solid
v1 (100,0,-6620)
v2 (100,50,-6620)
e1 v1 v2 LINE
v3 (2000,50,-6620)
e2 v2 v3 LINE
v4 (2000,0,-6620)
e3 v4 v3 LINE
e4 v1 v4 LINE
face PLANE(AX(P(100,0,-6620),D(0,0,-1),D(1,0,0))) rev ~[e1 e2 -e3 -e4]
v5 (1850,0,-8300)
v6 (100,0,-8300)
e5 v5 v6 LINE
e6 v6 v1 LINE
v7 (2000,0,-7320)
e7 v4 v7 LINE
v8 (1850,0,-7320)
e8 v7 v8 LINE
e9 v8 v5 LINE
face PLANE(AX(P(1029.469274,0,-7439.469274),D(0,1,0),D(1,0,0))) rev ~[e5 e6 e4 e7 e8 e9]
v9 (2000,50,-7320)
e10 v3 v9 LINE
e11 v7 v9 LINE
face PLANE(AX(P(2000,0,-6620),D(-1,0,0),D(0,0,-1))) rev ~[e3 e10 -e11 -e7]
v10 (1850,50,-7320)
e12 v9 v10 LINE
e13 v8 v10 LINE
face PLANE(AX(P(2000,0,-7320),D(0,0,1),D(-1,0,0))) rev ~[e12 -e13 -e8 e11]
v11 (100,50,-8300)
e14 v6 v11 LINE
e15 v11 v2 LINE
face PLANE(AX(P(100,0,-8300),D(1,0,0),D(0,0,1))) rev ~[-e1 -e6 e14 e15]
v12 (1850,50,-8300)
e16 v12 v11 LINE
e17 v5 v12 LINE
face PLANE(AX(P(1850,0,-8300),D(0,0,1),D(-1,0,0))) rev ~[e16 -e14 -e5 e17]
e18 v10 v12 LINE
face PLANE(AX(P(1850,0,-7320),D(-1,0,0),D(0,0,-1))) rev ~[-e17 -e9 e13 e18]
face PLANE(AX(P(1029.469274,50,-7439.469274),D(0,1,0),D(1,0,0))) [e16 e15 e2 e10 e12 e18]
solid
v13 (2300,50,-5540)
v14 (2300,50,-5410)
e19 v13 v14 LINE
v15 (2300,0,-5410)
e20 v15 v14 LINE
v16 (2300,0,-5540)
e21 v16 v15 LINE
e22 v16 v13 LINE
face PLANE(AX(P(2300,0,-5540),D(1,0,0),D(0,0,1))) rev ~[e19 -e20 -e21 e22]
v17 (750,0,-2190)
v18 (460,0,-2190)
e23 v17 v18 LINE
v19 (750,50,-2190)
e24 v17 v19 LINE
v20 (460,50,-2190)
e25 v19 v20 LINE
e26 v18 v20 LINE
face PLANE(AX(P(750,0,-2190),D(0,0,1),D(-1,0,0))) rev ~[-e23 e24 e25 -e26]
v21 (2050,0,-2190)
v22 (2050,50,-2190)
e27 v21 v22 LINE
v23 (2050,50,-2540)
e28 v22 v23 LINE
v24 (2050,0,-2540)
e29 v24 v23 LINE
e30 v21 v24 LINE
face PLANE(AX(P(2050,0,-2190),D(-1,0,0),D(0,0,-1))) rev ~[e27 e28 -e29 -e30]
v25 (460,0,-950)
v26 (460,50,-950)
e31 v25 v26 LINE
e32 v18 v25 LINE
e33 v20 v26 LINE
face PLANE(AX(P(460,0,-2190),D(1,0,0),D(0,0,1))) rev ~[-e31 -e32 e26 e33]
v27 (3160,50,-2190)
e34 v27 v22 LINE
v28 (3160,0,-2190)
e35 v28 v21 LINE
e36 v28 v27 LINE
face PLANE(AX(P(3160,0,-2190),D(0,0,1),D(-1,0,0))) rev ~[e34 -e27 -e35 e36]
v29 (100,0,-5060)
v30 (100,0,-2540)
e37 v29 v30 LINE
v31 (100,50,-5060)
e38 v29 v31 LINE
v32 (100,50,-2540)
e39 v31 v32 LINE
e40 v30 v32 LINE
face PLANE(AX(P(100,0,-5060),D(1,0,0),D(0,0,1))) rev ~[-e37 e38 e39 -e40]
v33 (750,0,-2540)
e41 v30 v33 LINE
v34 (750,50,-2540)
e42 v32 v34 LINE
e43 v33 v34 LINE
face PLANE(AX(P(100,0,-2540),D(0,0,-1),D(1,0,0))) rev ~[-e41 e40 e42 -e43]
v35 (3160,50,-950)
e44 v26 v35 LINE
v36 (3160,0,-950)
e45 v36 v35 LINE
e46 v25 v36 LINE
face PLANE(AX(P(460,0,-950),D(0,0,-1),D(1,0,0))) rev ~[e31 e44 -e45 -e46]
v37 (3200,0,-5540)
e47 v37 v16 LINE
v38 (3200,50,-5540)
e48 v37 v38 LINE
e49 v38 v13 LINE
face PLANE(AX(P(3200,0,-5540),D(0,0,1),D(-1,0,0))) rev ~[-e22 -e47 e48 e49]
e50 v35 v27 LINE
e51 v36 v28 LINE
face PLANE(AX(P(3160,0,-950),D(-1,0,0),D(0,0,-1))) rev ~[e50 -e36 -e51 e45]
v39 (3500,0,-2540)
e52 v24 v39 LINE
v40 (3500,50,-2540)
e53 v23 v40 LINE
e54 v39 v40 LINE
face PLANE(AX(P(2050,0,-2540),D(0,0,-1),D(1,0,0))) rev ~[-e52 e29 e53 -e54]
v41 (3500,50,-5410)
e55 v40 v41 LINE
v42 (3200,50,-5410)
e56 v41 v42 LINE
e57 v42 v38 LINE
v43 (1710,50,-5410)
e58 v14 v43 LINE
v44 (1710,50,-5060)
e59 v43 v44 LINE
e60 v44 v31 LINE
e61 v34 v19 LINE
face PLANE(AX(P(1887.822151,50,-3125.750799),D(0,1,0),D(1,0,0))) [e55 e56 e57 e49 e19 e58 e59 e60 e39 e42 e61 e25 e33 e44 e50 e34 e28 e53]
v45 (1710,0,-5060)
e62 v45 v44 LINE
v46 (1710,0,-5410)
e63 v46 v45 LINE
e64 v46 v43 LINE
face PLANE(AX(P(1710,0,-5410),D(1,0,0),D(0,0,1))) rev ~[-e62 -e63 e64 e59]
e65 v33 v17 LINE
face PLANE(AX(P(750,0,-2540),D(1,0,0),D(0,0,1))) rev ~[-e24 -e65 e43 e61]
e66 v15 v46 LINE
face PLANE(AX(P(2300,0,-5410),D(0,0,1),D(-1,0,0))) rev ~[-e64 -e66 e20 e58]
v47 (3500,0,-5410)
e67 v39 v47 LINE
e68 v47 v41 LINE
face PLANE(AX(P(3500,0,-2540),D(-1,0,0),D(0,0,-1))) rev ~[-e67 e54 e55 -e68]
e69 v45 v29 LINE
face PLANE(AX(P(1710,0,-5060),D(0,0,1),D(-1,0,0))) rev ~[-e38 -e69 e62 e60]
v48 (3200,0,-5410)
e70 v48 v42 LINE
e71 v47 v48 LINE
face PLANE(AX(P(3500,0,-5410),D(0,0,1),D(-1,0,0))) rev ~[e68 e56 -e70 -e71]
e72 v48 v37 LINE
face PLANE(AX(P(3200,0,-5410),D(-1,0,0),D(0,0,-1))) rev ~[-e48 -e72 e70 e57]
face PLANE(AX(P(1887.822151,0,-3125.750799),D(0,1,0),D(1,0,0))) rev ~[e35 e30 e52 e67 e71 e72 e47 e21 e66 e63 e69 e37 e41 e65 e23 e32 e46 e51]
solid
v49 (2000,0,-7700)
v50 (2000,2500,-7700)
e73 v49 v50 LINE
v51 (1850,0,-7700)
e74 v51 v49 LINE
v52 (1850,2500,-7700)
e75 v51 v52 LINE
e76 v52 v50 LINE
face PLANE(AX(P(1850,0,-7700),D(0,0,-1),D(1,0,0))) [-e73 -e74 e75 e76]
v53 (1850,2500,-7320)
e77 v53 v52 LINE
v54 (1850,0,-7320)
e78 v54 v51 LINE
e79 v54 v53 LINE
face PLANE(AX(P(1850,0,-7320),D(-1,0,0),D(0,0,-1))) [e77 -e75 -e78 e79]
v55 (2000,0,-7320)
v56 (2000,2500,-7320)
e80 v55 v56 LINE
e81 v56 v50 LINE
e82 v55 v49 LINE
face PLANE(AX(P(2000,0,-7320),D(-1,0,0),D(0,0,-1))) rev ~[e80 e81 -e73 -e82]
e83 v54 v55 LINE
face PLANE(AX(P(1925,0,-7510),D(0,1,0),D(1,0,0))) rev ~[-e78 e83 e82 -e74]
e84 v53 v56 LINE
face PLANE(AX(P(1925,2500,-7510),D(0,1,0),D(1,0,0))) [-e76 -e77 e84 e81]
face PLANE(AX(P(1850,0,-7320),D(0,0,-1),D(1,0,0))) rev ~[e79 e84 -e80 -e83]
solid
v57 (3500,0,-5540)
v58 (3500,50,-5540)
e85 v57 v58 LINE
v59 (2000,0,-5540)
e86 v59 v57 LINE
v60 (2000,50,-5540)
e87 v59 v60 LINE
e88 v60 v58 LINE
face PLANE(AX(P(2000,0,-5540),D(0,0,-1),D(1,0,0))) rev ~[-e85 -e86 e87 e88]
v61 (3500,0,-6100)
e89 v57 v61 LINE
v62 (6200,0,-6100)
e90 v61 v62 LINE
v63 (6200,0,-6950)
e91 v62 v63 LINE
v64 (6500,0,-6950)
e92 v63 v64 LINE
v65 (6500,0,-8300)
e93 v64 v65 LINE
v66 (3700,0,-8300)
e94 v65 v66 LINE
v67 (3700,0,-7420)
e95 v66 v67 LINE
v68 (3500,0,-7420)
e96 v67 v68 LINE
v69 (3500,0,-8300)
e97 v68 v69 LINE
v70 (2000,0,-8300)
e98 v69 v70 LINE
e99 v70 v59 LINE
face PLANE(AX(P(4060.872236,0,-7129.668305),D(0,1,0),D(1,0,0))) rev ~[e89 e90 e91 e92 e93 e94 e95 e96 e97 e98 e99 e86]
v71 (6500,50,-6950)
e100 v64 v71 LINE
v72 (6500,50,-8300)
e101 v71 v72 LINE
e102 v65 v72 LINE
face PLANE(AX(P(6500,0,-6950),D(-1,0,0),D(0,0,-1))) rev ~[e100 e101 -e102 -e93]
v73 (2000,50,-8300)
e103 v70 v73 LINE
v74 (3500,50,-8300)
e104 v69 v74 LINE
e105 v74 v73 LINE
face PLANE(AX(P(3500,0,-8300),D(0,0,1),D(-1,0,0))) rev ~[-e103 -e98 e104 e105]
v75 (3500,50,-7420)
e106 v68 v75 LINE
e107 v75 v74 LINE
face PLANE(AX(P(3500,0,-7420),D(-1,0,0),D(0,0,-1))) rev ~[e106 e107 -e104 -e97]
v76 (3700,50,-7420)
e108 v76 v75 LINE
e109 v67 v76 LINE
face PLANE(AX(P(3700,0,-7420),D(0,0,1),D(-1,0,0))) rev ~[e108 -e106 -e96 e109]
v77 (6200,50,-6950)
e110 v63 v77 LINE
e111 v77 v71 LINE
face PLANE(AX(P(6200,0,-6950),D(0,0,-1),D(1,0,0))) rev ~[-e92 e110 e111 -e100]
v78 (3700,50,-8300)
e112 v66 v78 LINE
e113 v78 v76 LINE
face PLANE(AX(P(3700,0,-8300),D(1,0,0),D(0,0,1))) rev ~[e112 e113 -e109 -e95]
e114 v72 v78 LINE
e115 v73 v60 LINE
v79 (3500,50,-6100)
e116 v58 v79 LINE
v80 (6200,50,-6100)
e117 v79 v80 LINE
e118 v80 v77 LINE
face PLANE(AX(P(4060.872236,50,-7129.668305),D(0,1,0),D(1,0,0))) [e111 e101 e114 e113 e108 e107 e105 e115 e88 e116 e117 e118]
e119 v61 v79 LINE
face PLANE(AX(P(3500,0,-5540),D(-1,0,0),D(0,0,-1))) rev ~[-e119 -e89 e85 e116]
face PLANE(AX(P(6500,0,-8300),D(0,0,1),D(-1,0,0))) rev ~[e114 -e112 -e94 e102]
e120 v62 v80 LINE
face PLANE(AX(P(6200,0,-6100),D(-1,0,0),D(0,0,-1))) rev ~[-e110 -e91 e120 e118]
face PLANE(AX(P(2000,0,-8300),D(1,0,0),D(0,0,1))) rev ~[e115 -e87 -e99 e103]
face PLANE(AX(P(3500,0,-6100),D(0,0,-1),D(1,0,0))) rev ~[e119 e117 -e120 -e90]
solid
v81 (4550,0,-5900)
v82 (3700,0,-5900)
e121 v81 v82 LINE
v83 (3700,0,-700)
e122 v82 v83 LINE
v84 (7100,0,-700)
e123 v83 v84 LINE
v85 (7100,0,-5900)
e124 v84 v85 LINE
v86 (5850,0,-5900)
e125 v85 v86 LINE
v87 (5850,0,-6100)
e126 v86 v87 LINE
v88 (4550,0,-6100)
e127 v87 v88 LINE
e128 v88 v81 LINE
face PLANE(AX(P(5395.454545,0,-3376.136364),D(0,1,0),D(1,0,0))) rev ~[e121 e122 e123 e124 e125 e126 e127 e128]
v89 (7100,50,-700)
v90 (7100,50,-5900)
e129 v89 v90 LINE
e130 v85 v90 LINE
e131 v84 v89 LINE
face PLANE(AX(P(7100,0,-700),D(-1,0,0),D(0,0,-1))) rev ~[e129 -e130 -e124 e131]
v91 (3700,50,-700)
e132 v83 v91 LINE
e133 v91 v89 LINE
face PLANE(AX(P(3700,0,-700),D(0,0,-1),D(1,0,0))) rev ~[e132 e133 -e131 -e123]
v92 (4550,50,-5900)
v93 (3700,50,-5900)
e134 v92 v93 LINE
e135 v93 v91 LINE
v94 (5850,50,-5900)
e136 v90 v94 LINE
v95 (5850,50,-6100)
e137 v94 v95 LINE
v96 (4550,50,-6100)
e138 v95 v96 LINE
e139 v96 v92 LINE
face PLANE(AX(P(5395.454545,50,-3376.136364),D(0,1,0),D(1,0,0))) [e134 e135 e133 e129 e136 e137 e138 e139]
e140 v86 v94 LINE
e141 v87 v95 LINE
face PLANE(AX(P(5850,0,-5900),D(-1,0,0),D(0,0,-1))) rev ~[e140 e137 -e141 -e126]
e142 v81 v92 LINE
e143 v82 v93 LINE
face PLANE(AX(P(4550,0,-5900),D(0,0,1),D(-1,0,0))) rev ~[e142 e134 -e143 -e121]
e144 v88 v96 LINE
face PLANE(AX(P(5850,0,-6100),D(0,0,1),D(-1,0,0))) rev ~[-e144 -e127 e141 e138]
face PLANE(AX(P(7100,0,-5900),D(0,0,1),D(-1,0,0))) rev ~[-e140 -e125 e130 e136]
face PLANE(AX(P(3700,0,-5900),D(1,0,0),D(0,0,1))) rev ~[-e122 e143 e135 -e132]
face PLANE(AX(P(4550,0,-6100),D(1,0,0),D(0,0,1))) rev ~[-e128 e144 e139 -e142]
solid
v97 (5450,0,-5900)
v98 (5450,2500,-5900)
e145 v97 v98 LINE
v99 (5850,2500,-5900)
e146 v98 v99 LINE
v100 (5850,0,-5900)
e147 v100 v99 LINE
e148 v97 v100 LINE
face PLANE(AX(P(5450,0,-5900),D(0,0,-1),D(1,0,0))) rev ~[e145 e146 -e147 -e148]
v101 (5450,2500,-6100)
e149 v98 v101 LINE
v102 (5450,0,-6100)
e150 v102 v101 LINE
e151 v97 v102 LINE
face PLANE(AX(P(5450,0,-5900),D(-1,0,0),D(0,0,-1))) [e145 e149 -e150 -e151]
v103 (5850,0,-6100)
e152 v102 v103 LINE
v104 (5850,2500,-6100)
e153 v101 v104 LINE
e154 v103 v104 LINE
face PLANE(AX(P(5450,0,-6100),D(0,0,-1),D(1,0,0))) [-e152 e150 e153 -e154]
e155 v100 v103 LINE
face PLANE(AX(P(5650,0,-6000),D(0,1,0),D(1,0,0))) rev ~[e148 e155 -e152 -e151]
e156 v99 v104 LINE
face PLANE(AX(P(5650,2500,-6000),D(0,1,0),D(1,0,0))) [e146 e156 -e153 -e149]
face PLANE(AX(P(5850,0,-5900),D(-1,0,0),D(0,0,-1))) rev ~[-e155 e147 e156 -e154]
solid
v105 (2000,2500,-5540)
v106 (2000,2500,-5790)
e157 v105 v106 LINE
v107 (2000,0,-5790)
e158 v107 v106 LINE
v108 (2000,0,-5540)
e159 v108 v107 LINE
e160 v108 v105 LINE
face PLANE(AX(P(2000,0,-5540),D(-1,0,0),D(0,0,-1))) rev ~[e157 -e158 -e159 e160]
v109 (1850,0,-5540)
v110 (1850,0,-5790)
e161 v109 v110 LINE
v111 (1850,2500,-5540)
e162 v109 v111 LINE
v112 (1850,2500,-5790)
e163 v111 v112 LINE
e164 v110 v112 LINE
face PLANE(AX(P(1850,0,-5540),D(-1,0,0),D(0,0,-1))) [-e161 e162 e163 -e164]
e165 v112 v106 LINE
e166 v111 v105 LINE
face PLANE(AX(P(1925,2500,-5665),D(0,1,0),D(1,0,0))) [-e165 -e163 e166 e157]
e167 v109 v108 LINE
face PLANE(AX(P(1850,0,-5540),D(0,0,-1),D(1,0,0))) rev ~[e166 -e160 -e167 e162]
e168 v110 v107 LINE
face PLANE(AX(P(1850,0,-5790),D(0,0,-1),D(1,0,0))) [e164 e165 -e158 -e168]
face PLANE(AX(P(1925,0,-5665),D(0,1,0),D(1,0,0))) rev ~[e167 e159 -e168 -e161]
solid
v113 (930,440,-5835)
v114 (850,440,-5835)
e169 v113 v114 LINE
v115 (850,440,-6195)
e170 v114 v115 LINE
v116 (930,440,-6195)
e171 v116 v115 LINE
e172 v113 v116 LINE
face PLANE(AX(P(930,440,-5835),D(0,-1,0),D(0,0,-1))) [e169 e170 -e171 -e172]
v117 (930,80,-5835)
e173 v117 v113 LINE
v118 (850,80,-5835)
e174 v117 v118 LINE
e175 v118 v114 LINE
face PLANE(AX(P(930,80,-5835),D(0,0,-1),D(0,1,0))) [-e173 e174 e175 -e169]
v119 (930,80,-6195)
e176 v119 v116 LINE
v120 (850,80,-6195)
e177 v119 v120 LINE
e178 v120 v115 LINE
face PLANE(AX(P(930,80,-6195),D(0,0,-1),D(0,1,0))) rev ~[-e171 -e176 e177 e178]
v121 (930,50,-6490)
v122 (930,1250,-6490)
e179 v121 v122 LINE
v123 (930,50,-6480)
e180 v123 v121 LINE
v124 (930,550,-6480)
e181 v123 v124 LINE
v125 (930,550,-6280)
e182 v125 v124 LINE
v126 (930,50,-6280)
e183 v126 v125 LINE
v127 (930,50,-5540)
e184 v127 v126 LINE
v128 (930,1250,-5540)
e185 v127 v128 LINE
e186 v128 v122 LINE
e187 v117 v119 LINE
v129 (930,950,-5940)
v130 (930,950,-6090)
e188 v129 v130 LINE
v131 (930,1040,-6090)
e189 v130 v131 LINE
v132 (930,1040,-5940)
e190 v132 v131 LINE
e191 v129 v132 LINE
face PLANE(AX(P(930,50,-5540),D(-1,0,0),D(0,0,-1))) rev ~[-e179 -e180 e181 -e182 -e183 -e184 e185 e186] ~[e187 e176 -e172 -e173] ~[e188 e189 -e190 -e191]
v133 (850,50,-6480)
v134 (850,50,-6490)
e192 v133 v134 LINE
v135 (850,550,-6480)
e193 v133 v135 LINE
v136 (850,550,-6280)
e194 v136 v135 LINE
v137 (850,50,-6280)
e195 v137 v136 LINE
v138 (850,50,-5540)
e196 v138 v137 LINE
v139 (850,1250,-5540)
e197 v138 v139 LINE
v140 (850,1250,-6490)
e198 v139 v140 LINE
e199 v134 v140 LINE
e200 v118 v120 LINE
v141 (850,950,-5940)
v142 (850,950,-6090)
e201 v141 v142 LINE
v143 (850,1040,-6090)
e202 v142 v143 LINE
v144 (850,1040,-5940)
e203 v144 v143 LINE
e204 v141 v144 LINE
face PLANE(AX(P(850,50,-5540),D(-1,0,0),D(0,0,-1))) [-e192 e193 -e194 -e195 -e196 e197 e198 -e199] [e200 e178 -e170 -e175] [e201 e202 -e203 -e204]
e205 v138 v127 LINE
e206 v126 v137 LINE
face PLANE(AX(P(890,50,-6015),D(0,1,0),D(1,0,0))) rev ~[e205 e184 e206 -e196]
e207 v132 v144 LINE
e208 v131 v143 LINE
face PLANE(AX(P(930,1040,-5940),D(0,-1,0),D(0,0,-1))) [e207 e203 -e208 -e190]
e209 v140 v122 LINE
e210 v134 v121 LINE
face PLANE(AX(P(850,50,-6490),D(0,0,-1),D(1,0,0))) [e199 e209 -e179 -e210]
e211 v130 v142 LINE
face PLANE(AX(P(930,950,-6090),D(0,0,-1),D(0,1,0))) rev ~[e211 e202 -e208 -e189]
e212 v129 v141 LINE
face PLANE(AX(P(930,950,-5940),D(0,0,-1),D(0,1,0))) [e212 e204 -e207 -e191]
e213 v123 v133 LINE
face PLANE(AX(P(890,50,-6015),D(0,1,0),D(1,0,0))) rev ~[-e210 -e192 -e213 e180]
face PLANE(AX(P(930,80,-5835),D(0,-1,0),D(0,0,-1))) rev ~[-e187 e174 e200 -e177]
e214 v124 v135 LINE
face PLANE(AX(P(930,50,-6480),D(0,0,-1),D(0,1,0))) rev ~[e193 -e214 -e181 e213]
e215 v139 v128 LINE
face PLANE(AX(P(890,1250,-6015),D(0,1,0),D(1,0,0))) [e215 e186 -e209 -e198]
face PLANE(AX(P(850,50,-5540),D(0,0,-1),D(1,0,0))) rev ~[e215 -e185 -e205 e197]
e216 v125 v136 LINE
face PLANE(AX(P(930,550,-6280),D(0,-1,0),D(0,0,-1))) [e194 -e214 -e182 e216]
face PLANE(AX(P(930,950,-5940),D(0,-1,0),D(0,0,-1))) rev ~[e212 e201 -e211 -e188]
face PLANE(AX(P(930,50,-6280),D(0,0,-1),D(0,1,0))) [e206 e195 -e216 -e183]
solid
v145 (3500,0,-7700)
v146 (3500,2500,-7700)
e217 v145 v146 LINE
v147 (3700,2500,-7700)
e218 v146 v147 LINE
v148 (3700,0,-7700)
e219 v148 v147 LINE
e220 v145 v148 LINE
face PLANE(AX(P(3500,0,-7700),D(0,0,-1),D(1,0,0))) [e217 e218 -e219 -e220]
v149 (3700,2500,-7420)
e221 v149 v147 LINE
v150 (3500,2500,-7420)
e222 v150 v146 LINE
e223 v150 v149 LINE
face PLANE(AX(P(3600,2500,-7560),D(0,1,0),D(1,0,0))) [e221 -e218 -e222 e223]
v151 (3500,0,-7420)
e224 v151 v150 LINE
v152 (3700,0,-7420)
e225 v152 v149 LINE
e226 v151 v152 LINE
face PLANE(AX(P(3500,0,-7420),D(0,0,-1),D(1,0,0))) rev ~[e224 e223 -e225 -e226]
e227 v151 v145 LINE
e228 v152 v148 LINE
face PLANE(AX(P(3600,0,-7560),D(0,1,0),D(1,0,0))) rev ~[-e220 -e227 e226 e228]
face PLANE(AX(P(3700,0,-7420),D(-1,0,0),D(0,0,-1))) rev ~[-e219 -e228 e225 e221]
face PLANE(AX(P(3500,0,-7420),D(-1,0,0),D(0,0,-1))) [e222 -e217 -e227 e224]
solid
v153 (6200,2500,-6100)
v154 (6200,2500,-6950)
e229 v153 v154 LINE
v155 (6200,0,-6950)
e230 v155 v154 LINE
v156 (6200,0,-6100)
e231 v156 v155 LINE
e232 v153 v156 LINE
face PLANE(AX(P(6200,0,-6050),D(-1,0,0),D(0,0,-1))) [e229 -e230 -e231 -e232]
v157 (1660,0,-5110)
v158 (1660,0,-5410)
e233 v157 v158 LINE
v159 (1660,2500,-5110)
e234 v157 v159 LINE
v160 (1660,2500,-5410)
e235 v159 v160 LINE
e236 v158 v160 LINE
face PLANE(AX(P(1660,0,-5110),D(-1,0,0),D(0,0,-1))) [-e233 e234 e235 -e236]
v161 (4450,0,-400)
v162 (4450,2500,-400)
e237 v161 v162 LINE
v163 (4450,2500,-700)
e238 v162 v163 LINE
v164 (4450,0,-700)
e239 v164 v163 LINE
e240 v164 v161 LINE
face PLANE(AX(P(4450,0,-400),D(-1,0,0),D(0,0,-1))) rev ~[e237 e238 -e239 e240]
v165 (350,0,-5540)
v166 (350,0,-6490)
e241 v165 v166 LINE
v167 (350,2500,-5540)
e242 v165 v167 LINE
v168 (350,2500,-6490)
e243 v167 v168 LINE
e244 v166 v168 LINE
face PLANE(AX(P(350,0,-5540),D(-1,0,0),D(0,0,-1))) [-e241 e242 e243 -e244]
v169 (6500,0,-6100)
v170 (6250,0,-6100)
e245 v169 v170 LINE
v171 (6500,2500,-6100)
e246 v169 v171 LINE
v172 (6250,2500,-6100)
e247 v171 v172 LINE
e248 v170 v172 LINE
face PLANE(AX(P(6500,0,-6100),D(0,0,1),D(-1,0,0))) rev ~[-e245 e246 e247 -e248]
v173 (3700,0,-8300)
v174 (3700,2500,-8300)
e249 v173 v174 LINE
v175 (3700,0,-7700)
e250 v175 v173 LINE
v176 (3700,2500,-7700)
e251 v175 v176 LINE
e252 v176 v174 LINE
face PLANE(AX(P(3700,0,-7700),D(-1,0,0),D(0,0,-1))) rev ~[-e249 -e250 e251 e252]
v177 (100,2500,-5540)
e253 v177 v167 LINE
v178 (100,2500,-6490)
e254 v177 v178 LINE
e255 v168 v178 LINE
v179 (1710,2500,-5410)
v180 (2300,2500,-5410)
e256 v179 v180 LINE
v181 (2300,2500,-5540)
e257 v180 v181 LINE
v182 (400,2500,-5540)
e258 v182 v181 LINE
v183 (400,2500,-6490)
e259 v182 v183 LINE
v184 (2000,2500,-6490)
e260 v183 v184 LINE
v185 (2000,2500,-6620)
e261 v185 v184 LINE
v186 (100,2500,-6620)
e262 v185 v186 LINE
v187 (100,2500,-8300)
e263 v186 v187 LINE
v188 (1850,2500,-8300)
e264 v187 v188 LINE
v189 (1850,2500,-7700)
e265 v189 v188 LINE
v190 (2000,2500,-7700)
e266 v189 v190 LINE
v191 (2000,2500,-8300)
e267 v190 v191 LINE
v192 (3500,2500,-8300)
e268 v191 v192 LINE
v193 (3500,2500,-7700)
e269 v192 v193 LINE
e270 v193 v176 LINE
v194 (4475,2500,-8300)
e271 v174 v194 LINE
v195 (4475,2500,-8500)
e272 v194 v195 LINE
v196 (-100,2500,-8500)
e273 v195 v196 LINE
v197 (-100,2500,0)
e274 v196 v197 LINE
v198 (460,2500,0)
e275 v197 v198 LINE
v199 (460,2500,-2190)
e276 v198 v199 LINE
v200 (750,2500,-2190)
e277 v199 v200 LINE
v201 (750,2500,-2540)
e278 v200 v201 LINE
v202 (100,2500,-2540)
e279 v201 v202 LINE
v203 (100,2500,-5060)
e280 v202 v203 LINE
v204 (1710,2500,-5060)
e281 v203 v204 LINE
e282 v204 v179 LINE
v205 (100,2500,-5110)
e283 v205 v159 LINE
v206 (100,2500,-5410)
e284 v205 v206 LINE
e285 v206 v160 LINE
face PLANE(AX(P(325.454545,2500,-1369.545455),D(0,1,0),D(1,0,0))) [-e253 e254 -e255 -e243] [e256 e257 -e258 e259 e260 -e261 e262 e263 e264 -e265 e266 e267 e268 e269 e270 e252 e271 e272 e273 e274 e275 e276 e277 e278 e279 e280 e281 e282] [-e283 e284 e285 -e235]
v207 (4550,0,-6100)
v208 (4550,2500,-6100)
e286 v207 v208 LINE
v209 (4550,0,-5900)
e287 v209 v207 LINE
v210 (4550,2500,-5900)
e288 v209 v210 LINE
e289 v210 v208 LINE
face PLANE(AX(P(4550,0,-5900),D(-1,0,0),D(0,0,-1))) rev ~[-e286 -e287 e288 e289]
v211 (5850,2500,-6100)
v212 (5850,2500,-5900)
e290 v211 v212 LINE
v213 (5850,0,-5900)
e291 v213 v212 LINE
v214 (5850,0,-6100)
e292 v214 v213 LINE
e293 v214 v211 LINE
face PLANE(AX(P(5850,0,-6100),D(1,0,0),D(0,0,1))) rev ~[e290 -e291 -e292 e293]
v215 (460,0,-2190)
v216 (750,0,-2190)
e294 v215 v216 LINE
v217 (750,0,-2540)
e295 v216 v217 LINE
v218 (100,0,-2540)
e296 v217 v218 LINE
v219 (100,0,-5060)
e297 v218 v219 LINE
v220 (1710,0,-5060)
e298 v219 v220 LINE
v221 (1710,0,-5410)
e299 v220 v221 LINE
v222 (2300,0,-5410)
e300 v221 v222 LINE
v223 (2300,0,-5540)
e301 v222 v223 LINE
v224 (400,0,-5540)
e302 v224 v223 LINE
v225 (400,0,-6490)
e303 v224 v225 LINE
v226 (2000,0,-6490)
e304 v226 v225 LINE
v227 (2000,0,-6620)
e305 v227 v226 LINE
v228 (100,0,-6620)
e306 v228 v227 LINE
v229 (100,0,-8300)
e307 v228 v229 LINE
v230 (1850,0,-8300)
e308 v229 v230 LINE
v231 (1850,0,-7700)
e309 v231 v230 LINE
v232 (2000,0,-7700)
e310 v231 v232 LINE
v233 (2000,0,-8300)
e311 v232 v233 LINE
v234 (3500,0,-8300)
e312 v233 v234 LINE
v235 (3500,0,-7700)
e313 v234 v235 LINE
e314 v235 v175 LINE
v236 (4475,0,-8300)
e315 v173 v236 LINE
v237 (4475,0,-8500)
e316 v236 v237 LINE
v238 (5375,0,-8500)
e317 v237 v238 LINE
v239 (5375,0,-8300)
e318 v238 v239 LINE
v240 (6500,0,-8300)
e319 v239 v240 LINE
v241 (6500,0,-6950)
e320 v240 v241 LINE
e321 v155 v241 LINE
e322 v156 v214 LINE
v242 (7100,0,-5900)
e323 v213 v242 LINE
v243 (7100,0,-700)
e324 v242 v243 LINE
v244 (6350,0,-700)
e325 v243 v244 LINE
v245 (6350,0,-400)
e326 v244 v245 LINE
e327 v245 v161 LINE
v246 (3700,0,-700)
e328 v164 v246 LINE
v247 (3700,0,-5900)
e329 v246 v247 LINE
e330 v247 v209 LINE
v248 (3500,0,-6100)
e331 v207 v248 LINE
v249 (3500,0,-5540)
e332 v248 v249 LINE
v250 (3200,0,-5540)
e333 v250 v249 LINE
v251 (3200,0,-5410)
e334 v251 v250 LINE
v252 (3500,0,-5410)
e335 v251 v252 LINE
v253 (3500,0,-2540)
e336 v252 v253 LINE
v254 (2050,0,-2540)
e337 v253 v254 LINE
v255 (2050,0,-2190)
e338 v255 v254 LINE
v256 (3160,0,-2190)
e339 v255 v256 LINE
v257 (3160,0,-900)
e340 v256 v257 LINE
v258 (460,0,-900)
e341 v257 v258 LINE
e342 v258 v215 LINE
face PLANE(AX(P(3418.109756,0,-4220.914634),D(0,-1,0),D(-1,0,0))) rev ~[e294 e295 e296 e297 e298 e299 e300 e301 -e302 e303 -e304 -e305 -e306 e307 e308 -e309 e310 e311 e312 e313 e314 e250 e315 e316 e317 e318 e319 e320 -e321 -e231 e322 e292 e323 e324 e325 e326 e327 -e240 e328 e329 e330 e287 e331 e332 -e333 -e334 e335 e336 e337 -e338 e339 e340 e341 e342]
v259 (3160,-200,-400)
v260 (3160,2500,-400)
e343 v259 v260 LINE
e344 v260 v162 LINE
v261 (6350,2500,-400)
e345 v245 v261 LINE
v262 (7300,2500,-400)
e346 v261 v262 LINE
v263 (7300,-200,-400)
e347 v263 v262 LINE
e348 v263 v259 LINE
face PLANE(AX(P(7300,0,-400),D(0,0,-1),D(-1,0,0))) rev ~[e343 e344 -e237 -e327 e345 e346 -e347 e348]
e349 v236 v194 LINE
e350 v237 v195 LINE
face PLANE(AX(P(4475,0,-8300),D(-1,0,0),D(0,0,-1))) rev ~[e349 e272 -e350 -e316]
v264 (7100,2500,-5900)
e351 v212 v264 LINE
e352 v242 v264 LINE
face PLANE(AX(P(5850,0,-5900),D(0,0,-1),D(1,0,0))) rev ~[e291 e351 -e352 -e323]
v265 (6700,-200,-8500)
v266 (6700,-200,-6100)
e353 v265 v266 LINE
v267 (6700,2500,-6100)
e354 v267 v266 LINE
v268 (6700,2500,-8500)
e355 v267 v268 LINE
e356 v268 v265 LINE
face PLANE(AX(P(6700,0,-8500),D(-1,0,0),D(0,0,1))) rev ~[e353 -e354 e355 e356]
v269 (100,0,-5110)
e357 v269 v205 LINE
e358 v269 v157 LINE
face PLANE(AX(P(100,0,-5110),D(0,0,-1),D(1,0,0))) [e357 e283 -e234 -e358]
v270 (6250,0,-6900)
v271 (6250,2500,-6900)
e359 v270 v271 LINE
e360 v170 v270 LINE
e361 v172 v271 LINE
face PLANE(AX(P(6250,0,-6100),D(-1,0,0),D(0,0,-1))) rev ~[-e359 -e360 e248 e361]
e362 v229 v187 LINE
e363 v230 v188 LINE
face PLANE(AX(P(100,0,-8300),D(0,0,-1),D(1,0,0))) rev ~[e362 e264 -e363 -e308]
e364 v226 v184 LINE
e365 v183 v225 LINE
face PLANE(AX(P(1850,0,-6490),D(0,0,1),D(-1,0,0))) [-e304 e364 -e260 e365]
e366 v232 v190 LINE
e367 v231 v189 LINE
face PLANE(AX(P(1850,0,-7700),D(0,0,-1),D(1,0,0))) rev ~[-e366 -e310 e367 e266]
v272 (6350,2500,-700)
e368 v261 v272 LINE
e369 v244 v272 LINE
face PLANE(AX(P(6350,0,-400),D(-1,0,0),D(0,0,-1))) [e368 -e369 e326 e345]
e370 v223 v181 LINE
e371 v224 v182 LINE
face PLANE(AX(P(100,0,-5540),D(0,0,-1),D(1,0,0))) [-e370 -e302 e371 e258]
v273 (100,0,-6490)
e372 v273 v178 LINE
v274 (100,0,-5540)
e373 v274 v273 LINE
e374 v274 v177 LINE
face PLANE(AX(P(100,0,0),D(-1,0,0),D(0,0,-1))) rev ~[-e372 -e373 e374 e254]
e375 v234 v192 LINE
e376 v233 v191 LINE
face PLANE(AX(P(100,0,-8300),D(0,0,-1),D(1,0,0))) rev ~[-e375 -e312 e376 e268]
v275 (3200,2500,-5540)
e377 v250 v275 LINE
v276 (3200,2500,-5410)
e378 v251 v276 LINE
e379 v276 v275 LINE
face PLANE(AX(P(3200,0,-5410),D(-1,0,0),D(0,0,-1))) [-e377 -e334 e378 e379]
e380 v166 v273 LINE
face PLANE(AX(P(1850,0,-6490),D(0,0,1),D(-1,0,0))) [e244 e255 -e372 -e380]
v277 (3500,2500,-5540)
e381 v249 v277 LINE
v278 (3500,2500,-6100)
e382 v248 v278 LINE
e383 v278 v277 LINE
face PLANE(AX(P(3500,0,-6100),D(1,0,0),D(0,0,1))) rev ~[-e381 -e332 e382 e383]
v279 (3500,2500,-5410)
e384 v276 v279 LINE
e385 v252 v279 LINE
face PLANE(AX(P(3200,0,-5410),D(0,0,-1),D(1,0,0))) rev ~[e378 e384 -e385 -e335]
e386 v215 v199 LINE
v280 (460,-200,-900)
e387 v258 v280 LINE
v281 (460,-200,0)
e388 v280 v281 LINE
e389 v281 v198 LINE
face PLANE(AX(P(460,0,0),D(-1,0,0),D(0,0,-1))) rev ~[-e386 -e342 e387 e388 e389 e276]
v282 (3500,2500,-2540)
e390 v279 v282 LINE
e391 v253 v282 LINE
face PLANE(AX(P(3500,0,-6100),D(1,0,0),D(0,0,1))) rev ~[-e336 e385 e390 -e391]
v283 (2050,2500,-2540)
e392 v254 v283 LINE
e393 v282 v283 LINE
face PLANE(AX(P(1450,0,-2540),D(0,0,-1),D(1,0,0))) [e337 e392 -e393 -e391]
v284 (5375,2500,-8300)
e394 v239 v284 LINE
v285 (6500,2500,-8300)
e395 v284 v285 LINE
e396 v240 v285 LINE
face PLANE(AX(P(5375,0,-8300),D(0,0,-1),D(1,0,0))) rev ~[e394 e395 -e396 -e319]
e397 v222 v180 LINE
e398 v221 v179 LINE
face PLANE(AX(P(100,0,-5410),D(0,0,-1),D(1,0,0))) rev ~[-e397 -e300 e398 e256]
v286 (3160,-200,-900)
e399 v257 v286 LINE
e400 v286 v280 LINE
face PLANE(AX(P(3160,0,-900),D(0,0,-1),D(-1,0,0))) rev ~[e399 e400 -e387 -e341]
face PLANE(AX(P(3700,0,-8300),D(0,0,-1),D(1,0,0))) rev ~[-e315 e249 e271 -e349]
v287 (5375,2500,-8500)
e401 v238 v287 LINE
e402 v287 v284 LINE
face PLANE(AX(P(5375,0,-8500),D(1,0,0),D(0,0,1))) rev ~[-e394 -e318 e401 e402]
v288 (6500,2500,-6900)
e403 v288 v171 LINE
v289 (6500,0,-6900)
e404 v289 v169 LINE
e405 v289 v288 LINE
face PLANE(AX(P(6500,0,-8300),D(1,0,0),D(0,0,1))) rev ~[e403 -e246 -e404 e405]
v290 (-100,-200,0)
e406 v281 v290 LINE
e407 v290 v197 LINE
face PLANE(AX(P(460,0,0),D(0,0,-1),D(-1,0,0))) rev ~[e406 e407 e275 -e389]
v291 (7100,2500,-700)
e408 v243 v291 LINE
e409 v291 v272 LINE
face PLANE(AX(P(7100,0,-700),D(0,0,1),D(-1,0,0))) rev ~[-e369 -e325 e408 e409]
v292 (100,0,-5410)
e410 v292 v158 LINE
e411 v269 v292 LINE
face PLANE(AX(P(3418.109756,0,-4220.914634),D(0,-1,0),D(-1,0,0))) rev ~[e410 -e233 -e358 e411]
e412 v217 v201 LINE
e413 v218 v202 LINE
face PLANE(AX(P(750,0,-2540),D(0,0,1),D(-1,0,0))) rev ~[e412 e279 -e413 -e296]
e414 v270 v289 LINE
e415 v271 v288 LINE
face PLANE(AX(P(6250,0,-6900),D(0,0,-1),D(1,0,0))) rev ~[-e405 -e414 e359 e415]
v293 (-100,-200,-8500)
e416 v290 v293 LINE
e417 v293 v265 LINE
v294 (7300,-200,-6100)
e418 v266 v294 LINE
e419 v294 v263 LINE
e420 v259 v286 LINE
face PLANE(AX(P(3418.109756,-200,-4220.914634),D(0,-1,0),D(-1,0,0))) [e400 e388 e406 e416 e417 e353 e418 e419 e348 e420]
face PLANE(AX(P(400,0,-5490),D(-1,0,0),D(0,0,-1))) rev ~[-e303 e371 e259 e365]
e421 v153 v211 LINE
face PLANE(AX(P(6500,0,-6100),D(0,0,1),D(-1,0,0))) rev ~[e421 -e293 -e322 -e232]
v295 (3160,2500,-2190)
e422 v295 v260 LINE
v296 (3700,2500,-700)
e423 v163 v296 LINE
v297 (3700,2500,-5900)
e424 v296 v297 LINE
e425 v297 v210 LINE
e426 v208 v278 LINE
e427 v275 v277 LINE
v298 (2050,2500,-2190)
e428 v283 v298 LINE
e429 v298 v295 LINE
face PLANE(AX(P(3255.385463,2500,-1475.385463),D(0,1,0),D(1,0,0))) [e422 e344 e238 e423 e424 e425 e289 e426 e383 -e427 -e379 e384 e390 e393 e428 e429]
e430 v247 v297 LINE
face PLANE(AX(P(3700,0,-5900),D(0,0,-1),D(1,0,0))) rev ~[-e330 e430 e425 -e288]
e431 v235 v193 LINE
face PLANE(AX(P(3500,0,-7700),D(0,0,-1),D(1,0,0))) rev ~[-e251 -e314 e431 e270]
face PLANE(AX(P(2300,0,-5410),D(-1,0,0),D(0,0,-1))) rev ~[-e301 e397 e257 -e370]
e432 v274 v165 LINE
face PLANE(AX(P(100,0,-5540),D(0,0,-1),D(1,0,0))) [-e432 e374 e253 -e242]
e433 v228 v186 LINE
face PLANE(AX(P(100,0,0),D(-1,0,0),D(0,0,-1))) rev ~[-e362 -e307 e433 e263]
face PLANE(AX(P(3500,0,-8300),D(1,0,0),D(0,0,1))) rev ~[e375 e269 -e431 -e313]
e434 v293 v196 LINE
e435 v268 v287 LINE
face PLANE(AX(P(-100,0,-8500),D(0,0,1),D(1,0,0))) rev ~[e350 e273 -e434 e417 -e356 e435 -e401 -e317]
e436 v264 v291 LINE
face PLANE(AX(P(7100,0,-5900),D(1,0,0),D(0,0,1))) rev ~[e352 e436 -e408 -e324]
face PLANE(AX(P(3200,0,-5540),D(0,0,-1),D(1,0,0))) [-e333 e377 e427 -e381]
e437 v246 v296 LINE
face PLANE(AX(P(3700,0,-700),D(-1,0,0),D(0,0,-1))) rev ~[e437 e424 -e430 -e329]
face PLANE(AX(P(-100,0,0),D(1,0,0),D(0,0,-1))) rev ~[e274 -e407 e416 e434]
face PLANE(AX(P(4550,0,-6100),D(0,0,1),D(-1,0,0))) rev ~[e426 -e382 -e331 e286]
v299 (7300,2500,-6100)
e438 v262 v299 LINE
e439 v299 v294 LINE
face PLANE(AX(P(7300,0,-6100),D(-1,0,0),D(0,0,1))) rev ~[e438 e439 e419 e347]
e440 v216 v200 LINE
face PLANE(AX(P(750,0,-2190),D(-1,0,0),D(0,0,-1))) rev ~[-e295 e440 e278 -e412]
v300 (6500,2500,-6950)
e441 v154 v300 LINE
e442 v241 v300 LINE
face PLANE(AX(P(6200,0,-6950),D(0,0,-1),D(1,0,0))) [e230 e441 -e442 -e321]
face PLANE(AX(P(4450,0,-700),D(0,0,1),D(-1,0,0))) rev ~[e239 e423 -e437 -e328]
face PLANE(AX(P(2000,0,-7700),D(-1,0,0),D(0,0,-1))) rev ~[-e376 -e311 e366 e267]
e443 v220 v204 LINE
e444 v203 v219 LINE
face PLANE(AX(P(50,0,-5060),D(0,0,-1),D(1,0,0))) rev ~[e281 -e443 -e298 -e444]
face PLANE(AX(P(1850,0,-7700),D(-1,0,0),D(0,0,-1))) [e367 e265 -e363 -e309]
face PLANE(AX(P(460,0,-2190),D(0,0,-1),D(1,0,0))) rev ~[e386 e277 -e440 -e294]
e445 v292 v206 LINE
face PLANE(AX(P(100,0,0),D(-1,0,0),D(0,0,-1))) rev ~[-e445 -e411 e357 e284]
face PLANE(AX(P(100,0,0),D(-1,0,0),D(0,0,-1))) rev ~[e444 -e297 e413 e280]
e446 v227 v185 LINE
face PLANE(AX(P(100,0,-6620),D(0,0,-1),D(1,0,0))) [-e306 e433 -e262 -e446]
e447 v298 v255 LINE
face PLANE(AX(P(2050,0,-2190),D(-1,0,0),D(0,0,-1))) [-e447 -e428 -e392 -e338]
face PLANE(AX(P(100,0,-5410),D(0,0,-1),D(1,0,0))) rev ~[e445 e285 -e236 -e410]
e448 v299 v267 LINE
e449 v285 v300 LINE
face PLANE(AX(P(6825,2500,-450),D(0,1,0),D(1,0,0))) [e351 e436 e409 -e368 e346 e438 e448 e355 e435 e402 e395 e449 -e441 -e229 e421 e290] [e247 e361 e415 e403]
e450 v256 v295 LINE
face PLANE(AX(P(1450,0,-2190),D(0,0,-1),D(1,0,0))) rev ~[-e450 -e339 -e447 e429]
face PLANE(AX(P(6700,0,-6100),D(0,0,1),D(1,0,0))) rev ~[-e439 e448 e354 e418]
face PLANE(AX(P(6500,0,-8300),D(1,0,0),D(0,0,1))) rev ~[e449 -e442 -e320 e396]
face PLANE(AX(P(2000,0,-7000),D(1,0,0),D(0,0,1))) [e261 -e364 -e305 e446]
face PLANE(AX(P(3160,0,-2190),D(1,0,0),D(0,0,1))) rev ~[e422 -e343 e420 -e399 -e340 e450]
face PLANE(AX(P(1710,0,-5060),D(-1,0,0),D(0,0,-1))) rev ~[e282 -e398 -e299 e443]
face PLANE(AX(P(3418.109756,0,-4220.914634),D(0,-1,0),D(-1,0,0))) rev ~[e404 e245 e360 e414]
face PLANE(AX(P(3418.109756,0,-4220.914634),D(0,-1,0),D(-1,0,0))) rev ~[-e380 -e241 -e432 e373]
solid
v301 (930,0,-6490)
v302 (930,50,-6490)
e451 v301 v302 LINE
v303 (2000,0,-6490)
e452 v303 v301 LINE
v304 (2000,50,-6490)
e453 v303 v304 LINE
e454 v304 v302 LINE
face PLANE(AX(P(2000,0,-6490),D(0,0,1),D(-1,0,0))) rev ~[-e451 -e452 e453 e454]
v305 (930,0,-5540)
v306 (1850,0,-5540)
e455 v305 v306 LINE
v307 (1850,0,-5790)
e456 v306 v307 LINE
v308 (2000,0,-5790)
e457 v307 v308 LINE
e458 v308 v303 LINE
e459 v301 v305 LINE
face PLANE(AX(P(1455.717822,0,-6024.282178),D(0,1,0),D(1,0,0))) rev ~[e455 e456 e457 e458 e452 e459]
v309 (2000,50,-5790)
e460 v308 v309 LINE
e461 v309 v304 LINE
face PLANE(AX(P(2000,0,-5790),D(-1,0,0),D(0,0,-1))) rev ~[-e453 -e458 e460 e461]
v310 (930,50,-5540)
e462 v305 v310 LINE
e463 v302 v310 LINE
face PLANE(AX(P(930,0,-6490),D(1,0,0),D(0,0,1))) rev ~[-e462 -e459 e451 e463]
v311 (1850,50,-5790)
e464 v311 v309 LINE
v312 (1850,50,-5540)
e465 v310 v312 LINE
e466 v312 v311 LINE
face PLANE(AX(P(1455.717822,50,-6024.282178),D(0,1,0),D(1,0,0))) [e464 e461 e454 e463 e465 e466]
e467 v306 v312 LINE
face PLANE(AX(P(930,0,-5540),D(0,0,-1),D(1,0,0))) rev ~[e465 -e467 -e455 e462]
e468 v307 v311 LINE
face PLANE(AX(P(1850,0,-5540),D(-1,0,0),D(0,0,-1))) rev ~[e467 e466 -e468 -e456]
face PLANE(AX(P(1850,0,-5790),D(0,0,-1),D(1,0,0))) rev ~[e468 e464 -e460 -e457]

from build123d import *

# Parameters (mm, degrees)
EXTRUDE_2786_DEPTH     = 2500
EXTRUDE_2786_2_DEPTH   = 2500
EXTRUDE_2786_3_DEPTH   = 2500
SKETCH_5_W             = 2200
SKETCH_5_H             = 130
SKETCH_5_W_2           = 300
SKETCH_5_W_3           = 150
SKETCH_5_H_2           = 600
EXTRUDE_3628_DEPTH     = 2500
SKETCH_7_W             = 950
SKETCH_7_H             = 100
EXTRUDE_4552_DEPTH     = 2500
SKETCH_8_W             = 1660
SKETCH_8_H             = 400
SKETCH_8_W_2           = 1560
SKETCH_8_H_2           = 300
EXTRUDE_5124_DEPTH     = 2500
SKETCH_9_W             = 350
SKETCH_9_H             = 900
SKETCH_9_W_2           = 250
SKETCH_9_H_2           = 800
SKETCH_9_H_3           = 1050
SKETCH_9_H_4           = 950
EXTRUDE_5639_DEPTH     = 2500
SKETCH_11_W            = 600
SKETCH_11_H            = 350
EXTRUDE_5921_DEPTH     = 600
EXTRUDE_6398_DEPTH     = 200
SKETCH_13_W            = 150
SKETCH_13_H            = 250
SKETCH_13_H_2          = 380
SKETCH_13_W_2          = 600
SKETCH_13_H_3          = 350
CUT_EXTRUDE_7565_DEPTH = 11480.982578384
SKETCH_14_W            = 400
SKETCH_14_H            = 200
EXTRUDE_7970_DEPTH     = 2500
SKETCH_14_W_2          = 150
SKETCH_14_H_2          = 250
EXTRUDE_7970_2_DEPTH   = 2500
SKETCH_14_H_3          = 380
EXTRUDE_7970_3_DEPTH   = 2500
SKETCH_15_W            = 200
SKETCH_15_H            = 280
EXTRUDE_2_DEPTH        = 2500
EXTRUDE_8866_DEPTH     = 50
EXTRUDE_9266_DEPTH     = 50
EXTRUDE_9553_DEPTH     = 50
EXTRUDE_9789_DEPTH     = 50
SKETCH_45_W            = 80
SKETCH_45_H            = 950
EXTRUDE_33_DEPTH       = 1200
SKETCH_46_W            = 360
SKETCH_46_H            = 360
SKETCH_46_W_2          = 150
SKETCH_46_H_2          = 90
SKETCH_46_W_3          = 200
SKETCH_46_H_3          = 500
CUT_EXTRUDE_2_DEPTH    = 80
EXTRUDE_11227_DEPTH    = 50


with BuildPart() as part:
    # Эскиз3 → Extrude 2786 (new body)
    with BuildSketch(Plane(origin=(0, 0, 0), x_dir=(1, 0, 0), z_dir=(0, 1, 0))):
        Polygon((100, 8300), (3500, 8300), (3500, 7700), (3700, 7700), (3700, 8300), (4475, 8300), (4475, 8500), (-100, 8500), (-100, 0), (100, 0), align=None)
    extrude(amount=EXTRUDE_2786_DEPTH)



with BuildPart() as body_2:
    # Эскиз3 → Extrude 2786 2 (new body)
    with BuildSketch(Plane(origin=(0, 0, 0), x_dir=(1, 0, 0), z_dir=(0, 1, 0))):
        Polygon((6500, 6100), (5850, 6100), (5850, 5900), (7100, 5900), (7100, 700), (6350, 700), (6350, 500), (7300, 500), (7300, 6100), (6700, 6100), (6700, 8500), (5375, 8500), (5375, 8300), (6500, 8300), align=None)
    extrude(amount=EXTRUDE_2786_2_DEPTH)


with BuildPart() as body_3:
    # Эскиз3 → Extrude 2786 3 (new body)
    with BuildSketch(Plane(origin=(0, 0, 0), x_dir=(1, 0, 0), z_dir=(0, 1, 0))):
        Polygon((4450, 700), (3700, 700), (3700, 5900), (4550, 5900), (4550, 6100), (3500, 6100), (3500, 500), (4450, 500), align=None)
    extrude(amount=EXTRUDE_2786_3_DEPTH)


with BuildPart() as part_1:
    add(part.part)

    add(body_3.part)  # Extrude 3628 merges body 3
    # Эскиз5 → Extrude 3628 (add)
    with BuildSketch(Plane(origin=(0, 0, 0), x_dir=(1, 0, 0), z_dir=(0, 1, 0))):
        Polygon((100, 6620), (1850, 6620), (1850, 7000), (2000, 7000), (2000, 6240), (1850, 6240), (1850, 6490), (100, 6490), align=None)
        with Locations((1200, 5475)):
            Rectangle(SKETCH_5_W, SKETCH_5_H)
        with Locations((3350, 5475)):
            Rectangle(SKETCH_5_W_2, SKETCH_5_H)
        with Locations((1925, 8000)):
            Rectangle(SKETCH_5_W_3, SKETCH_5_H_2)
    extrude(amount=EXTRUDE_3628_DEPTH)


    add(body_2.part)  # Extrude 4552 merges body 2
    # Эскиз7 → Extrude 4552 (add)
    with BuildSketch(Plane(origin=(0, 0, 0), x_dir=(1, 0, 0), z_dir=(0, 1, 0))):
        Polygon((750, 2190), (750, 2540), (100, 2540), (100, 0), (460, 0), (460, 2190), align=None)
        Polygon((2050, 2190), (3160, 2190), (3160, 400), (4450, 400), (4450, 500), (3500, 500), (3500, 2540), (2050, 2540), align=None)
        with Locations((6825, 450)):
            Rectangle(SKETCH_7_W, SKETCH_7_H)
    extrude(amount=EXTRUDE_4552_DEPTH)

    # Эскиз8 → Extrude 5124 (add)
    with BuildSketch(Plane(origin=(0, 0, 0), x_dir=(1, 0, 0), z_dir=(0, 1, 0))):
        with Locations((880, 5260)):
            Rectangle(SKETCH_8_W, SKETCH_8_H)
        with Locations((880, 5260)):
            Rectangle(SKETCH_8_W_2, SKETCH_8_H_2, mode=Mode.SUBTRACT)
    extrude(amount=EXTRUDE_5124_DEPTH)

    # Эскиз9 → Extrude 5639 (add)
    # profile 1 of 2: a face of its own
    with BuildSketch(Plane(origin=(0, 0, 0), x_dir=(1, 0, 0), z_dir=(0, 1, 0))):
        with Locations((6375, 6500)):
            Rectangle(SKETCH_9_W, SKETCH_9_H)
        with Locations((6375, 6500)):
            Rectangle(SKETCH_9_W_2, SKETCH_9_H_2, mode=Mode.SUBTRACT)
    # profile 2 of 2: a face of its own
    with BuildSketch(Plane(origin=(0, 0, 0), x_dir=(1, 0, 0), z_dir=(0, 1, 0))):
        with Locations((225, 6015)):
            Rectangle(SKETCH_9_W, SKETCH_9_H_3)
        with Locations((225, 6015)):
            Rectangle(SKETCH_9_W_2, SKETCH_9_H_4, mode=Mode.SUBTRACT)
    extrude(amount=EXTRUDE_5639_DEPTH)

    # Эскиз11 → Extrude 5921 (add)
    with BuildSketch(Plane(origin=(0, 0, 0), x_dir=(1, 0, 0), z_dir=(0, 1, 0))):
        with Locations((1750, 2365)):
            Rectangle(SKETCH_11_W, SKETCH_11_H)
    extrude(amount=EXTRUDE_5921_DEPTH)

    # Эскиз4 → Extrude 6398 (add)
    with BuildSketch(Plane(origin=(0, 0, 0), x_dir=(1, 0, 0), z_dir=(0, 1, 0))):
        Polygon((-100, 8500), (6700, 8500), (6700, 6100), (7300, 6100), (7300, 400), (3160, 400), (3160, 900), (460, 900), (460, 0), (-100, 0), align=None)
    extrude(amount=-EXTRUDE_6398_DEPTH)

    # Эскиз13 → Cut-Extrude 7565 (cut, through all)
    with BuildSketch(Plane(origin=(0, 0, 0), x_dir=(1, 0, 0), z_dir=(0, 1, 0))):
        with Locations((1925, 6365)):
            Rectangle(SKETCH_13_W, SKETCH_13_H)
        with Locations((1925, 6810)):
            Rectangle(SKETCH_13_W, SKETCH_13_H_2)
        with Locations((1750, 2365)):
            Rectangle(SKETCH_13_W_2, SKETCH_13_H_3)
    extrude(amount=CUT_EXTRUDE_7565_DEPTH, mode=Mode.SUBTRACT)


with BuildPart() as body_2_2:
    # Эскиз14 → Extrude 7970 (new, through all)
    with BuildSketch(Plane(origin=(0, 0, 0), x_dir=(1, 0, 0), z_dir=(0, 1, 0))):
        with Locations((5650, 6000)):
            Rectangle(SKETCH_14_W, SKETCH_14_H)
    extrude(amount=EXTRUDE_7970_DEPTH)


with BuildPart() as body_3_2:
    # Эскиз14 → Extrude 7970 2 (new, through all)
    with BuildSketch(Plane(origin=(0, 0, 0), x_dir=(1, 0, 0), z_dir=(0, 1, 0))):
        with Locations((1925, 5665)):
            Rectangle(SKETCH_14_W_2, SKETCH_14_H_2)
    extrude(amount=EXTRUDE_7970_2_DEPTH)


with BuildPart() as body_4:
    # Эскиз14 → Extrude 7970 3 (new, through all)
    with BuildSketch(Plane(origin=(0, 0, 0), x_dir=(1, 0, 0), z_dir=(0, 1, 0))):
        with Locations((1925, 7510)):
            Rectangle(SKETCH_14_W_2, SKETCH_14_H_3)
    extrude(amount=EXTRUDE_7970_3_DEPTH)


with BuildPart() as body_5:
    # Эскиз15 → наращивание стен 2 (new, through all)
    with BuildSketch(Plane(origin=(0, 0, 0), x_dir=(1, 0, 0), z_dir=(0, 1, 0))):
        with Locations((3600, 7560)):
            Rectangle(SKETCH_15_W, SKETCH_15_H)
    extrude(amount=EXTRUDE_2_DEPTH)


with BuildPart() as body_6:
    # Эскиз37 → Extrude 8866 (new body)
    with BuildSketch(Plane(origin=(0, 0, 0), x_dir=(1, 0, 0), z_dir=(0, 1, 0))):
        Polygon((3700, 700), (7100, 700), (7100, 5900), (5850, 5900), (5850, 6100), (4550, 6100), (4550, 5900), (3700, 5900), align=None)
    extrude(amount=EXTRUDE_8866_DEPTH)


with BuildPart() as body_7:
    # Эскиз38 → Extrude 9266 (new body)
    with BuildSketch(Plane(origin=(0, 0, 0), x_dir=(1, 0, 0), z_dir=(0, 1, 0))):
        Polygon((460, 950), (3160, 950), (3160, 2190), (2050, 2190), (2050, 2540), (3500, 2540), (3500, 5410), (3200, 5410), (3200, 5540), (2300, 5540), (2300, 5410), (1710, 5410), (1710, 5060), (100, 5060), (100, 2540), (750, 2540), (750, 2190), (460, 2190), align=None)
    extrude(amount=EXTRUDE_9266_DEPTH)


with BuildPart() as body_8:
    # Эскиз40 → Extrude 9553 (new body)
    with BuildSketch(Plane(origin=(0, 0, 0), x_dir=(1, 0, 0), z_dir=(0, 1, 0))):
        Polygon((6200, 6100), (6200, 6950), (6500, 6950), (6500, 8300), (3700, 8300), (3700, 7420), (3500, 7420), (3500, 8300), (2000, 8300), (2000, 5540), (3500, 5540), (3500, 6100), align=None)
    extrude(amount=EXTRUDE_9553_DEPTH)


with BuildPart() as body_9:
    # Эскиз42 → Extrude 9789 (new body)
    with BuildSketch(Plane(origin=(0, 0, 0), x_dir=(1, 0, 0), z_dir=(0, 1, 0))):
        Polygon((100, 8300), (100, 6620), (2000, 6620), (2000, 7320), (1850, 7320), (1850, 8300), align=None)
    extrude(amount=EXTRUDE_9789_DEPTH)


with BuildPart() as body_10:
    # Эскиз45 → Бобышка-Вытянуть33 (new body)
    with BuildSketch(Plane(origin=(0, 50, 0), x_dir=(1, 0, 0), z_dir=(0, 1, 0))):
        with Locations((890, 6015)):
            Rectangle(SKETCH_45_W, SKETCH_45_H)
    extrude(amount=EXTRUDE_33_DEPTH)

    # Эскиз46 → Вырез-Вытянуть2 (cut)
    with BuildSketch(Plane(origin=(930, 0, 0), x_dir=(0, 0, -1), z_dir=(1, 0, 0))):
        with Locations((6015, 260)):
            Rectangle(SKETCH_46_W, SKETCH_46_H)
        with Locations((6015, 995)):
            Rectangle(SKETCH_46_W_2, SKETCH_46_H_2)
        with Locations((6380, 300)):
            Rectangle(SKETCH_46_W_3, SKETCH_46_H_3)
    extrude(amount=-CUT_EXTRUDE_2_DEPTH, mode=Mode.SUBTRACT)


with BuildPart() as body_11:
    # Эскиз43 → Extrude 11227 (new body)
    with BuildSketch(Plane(origin=(0, 0, 0), x_dir=(1, 0, 0), z_dir=(0, 1, 0))):
        Polygon((930, 6490), (930, 5540), (1850, 5540), (1850, 5790), (2000, 5790), (2000, 6490), align=None)
    extrude(amount=EXTRUDE_11227_DEPTH)


solid = Compound([part_1.part, body_2_2.part, body_3_2.part, body_4.part, body_5.part, body_6.part, body_7.part, body_8.part, body_9.part, body_10.part, body_11.part])
